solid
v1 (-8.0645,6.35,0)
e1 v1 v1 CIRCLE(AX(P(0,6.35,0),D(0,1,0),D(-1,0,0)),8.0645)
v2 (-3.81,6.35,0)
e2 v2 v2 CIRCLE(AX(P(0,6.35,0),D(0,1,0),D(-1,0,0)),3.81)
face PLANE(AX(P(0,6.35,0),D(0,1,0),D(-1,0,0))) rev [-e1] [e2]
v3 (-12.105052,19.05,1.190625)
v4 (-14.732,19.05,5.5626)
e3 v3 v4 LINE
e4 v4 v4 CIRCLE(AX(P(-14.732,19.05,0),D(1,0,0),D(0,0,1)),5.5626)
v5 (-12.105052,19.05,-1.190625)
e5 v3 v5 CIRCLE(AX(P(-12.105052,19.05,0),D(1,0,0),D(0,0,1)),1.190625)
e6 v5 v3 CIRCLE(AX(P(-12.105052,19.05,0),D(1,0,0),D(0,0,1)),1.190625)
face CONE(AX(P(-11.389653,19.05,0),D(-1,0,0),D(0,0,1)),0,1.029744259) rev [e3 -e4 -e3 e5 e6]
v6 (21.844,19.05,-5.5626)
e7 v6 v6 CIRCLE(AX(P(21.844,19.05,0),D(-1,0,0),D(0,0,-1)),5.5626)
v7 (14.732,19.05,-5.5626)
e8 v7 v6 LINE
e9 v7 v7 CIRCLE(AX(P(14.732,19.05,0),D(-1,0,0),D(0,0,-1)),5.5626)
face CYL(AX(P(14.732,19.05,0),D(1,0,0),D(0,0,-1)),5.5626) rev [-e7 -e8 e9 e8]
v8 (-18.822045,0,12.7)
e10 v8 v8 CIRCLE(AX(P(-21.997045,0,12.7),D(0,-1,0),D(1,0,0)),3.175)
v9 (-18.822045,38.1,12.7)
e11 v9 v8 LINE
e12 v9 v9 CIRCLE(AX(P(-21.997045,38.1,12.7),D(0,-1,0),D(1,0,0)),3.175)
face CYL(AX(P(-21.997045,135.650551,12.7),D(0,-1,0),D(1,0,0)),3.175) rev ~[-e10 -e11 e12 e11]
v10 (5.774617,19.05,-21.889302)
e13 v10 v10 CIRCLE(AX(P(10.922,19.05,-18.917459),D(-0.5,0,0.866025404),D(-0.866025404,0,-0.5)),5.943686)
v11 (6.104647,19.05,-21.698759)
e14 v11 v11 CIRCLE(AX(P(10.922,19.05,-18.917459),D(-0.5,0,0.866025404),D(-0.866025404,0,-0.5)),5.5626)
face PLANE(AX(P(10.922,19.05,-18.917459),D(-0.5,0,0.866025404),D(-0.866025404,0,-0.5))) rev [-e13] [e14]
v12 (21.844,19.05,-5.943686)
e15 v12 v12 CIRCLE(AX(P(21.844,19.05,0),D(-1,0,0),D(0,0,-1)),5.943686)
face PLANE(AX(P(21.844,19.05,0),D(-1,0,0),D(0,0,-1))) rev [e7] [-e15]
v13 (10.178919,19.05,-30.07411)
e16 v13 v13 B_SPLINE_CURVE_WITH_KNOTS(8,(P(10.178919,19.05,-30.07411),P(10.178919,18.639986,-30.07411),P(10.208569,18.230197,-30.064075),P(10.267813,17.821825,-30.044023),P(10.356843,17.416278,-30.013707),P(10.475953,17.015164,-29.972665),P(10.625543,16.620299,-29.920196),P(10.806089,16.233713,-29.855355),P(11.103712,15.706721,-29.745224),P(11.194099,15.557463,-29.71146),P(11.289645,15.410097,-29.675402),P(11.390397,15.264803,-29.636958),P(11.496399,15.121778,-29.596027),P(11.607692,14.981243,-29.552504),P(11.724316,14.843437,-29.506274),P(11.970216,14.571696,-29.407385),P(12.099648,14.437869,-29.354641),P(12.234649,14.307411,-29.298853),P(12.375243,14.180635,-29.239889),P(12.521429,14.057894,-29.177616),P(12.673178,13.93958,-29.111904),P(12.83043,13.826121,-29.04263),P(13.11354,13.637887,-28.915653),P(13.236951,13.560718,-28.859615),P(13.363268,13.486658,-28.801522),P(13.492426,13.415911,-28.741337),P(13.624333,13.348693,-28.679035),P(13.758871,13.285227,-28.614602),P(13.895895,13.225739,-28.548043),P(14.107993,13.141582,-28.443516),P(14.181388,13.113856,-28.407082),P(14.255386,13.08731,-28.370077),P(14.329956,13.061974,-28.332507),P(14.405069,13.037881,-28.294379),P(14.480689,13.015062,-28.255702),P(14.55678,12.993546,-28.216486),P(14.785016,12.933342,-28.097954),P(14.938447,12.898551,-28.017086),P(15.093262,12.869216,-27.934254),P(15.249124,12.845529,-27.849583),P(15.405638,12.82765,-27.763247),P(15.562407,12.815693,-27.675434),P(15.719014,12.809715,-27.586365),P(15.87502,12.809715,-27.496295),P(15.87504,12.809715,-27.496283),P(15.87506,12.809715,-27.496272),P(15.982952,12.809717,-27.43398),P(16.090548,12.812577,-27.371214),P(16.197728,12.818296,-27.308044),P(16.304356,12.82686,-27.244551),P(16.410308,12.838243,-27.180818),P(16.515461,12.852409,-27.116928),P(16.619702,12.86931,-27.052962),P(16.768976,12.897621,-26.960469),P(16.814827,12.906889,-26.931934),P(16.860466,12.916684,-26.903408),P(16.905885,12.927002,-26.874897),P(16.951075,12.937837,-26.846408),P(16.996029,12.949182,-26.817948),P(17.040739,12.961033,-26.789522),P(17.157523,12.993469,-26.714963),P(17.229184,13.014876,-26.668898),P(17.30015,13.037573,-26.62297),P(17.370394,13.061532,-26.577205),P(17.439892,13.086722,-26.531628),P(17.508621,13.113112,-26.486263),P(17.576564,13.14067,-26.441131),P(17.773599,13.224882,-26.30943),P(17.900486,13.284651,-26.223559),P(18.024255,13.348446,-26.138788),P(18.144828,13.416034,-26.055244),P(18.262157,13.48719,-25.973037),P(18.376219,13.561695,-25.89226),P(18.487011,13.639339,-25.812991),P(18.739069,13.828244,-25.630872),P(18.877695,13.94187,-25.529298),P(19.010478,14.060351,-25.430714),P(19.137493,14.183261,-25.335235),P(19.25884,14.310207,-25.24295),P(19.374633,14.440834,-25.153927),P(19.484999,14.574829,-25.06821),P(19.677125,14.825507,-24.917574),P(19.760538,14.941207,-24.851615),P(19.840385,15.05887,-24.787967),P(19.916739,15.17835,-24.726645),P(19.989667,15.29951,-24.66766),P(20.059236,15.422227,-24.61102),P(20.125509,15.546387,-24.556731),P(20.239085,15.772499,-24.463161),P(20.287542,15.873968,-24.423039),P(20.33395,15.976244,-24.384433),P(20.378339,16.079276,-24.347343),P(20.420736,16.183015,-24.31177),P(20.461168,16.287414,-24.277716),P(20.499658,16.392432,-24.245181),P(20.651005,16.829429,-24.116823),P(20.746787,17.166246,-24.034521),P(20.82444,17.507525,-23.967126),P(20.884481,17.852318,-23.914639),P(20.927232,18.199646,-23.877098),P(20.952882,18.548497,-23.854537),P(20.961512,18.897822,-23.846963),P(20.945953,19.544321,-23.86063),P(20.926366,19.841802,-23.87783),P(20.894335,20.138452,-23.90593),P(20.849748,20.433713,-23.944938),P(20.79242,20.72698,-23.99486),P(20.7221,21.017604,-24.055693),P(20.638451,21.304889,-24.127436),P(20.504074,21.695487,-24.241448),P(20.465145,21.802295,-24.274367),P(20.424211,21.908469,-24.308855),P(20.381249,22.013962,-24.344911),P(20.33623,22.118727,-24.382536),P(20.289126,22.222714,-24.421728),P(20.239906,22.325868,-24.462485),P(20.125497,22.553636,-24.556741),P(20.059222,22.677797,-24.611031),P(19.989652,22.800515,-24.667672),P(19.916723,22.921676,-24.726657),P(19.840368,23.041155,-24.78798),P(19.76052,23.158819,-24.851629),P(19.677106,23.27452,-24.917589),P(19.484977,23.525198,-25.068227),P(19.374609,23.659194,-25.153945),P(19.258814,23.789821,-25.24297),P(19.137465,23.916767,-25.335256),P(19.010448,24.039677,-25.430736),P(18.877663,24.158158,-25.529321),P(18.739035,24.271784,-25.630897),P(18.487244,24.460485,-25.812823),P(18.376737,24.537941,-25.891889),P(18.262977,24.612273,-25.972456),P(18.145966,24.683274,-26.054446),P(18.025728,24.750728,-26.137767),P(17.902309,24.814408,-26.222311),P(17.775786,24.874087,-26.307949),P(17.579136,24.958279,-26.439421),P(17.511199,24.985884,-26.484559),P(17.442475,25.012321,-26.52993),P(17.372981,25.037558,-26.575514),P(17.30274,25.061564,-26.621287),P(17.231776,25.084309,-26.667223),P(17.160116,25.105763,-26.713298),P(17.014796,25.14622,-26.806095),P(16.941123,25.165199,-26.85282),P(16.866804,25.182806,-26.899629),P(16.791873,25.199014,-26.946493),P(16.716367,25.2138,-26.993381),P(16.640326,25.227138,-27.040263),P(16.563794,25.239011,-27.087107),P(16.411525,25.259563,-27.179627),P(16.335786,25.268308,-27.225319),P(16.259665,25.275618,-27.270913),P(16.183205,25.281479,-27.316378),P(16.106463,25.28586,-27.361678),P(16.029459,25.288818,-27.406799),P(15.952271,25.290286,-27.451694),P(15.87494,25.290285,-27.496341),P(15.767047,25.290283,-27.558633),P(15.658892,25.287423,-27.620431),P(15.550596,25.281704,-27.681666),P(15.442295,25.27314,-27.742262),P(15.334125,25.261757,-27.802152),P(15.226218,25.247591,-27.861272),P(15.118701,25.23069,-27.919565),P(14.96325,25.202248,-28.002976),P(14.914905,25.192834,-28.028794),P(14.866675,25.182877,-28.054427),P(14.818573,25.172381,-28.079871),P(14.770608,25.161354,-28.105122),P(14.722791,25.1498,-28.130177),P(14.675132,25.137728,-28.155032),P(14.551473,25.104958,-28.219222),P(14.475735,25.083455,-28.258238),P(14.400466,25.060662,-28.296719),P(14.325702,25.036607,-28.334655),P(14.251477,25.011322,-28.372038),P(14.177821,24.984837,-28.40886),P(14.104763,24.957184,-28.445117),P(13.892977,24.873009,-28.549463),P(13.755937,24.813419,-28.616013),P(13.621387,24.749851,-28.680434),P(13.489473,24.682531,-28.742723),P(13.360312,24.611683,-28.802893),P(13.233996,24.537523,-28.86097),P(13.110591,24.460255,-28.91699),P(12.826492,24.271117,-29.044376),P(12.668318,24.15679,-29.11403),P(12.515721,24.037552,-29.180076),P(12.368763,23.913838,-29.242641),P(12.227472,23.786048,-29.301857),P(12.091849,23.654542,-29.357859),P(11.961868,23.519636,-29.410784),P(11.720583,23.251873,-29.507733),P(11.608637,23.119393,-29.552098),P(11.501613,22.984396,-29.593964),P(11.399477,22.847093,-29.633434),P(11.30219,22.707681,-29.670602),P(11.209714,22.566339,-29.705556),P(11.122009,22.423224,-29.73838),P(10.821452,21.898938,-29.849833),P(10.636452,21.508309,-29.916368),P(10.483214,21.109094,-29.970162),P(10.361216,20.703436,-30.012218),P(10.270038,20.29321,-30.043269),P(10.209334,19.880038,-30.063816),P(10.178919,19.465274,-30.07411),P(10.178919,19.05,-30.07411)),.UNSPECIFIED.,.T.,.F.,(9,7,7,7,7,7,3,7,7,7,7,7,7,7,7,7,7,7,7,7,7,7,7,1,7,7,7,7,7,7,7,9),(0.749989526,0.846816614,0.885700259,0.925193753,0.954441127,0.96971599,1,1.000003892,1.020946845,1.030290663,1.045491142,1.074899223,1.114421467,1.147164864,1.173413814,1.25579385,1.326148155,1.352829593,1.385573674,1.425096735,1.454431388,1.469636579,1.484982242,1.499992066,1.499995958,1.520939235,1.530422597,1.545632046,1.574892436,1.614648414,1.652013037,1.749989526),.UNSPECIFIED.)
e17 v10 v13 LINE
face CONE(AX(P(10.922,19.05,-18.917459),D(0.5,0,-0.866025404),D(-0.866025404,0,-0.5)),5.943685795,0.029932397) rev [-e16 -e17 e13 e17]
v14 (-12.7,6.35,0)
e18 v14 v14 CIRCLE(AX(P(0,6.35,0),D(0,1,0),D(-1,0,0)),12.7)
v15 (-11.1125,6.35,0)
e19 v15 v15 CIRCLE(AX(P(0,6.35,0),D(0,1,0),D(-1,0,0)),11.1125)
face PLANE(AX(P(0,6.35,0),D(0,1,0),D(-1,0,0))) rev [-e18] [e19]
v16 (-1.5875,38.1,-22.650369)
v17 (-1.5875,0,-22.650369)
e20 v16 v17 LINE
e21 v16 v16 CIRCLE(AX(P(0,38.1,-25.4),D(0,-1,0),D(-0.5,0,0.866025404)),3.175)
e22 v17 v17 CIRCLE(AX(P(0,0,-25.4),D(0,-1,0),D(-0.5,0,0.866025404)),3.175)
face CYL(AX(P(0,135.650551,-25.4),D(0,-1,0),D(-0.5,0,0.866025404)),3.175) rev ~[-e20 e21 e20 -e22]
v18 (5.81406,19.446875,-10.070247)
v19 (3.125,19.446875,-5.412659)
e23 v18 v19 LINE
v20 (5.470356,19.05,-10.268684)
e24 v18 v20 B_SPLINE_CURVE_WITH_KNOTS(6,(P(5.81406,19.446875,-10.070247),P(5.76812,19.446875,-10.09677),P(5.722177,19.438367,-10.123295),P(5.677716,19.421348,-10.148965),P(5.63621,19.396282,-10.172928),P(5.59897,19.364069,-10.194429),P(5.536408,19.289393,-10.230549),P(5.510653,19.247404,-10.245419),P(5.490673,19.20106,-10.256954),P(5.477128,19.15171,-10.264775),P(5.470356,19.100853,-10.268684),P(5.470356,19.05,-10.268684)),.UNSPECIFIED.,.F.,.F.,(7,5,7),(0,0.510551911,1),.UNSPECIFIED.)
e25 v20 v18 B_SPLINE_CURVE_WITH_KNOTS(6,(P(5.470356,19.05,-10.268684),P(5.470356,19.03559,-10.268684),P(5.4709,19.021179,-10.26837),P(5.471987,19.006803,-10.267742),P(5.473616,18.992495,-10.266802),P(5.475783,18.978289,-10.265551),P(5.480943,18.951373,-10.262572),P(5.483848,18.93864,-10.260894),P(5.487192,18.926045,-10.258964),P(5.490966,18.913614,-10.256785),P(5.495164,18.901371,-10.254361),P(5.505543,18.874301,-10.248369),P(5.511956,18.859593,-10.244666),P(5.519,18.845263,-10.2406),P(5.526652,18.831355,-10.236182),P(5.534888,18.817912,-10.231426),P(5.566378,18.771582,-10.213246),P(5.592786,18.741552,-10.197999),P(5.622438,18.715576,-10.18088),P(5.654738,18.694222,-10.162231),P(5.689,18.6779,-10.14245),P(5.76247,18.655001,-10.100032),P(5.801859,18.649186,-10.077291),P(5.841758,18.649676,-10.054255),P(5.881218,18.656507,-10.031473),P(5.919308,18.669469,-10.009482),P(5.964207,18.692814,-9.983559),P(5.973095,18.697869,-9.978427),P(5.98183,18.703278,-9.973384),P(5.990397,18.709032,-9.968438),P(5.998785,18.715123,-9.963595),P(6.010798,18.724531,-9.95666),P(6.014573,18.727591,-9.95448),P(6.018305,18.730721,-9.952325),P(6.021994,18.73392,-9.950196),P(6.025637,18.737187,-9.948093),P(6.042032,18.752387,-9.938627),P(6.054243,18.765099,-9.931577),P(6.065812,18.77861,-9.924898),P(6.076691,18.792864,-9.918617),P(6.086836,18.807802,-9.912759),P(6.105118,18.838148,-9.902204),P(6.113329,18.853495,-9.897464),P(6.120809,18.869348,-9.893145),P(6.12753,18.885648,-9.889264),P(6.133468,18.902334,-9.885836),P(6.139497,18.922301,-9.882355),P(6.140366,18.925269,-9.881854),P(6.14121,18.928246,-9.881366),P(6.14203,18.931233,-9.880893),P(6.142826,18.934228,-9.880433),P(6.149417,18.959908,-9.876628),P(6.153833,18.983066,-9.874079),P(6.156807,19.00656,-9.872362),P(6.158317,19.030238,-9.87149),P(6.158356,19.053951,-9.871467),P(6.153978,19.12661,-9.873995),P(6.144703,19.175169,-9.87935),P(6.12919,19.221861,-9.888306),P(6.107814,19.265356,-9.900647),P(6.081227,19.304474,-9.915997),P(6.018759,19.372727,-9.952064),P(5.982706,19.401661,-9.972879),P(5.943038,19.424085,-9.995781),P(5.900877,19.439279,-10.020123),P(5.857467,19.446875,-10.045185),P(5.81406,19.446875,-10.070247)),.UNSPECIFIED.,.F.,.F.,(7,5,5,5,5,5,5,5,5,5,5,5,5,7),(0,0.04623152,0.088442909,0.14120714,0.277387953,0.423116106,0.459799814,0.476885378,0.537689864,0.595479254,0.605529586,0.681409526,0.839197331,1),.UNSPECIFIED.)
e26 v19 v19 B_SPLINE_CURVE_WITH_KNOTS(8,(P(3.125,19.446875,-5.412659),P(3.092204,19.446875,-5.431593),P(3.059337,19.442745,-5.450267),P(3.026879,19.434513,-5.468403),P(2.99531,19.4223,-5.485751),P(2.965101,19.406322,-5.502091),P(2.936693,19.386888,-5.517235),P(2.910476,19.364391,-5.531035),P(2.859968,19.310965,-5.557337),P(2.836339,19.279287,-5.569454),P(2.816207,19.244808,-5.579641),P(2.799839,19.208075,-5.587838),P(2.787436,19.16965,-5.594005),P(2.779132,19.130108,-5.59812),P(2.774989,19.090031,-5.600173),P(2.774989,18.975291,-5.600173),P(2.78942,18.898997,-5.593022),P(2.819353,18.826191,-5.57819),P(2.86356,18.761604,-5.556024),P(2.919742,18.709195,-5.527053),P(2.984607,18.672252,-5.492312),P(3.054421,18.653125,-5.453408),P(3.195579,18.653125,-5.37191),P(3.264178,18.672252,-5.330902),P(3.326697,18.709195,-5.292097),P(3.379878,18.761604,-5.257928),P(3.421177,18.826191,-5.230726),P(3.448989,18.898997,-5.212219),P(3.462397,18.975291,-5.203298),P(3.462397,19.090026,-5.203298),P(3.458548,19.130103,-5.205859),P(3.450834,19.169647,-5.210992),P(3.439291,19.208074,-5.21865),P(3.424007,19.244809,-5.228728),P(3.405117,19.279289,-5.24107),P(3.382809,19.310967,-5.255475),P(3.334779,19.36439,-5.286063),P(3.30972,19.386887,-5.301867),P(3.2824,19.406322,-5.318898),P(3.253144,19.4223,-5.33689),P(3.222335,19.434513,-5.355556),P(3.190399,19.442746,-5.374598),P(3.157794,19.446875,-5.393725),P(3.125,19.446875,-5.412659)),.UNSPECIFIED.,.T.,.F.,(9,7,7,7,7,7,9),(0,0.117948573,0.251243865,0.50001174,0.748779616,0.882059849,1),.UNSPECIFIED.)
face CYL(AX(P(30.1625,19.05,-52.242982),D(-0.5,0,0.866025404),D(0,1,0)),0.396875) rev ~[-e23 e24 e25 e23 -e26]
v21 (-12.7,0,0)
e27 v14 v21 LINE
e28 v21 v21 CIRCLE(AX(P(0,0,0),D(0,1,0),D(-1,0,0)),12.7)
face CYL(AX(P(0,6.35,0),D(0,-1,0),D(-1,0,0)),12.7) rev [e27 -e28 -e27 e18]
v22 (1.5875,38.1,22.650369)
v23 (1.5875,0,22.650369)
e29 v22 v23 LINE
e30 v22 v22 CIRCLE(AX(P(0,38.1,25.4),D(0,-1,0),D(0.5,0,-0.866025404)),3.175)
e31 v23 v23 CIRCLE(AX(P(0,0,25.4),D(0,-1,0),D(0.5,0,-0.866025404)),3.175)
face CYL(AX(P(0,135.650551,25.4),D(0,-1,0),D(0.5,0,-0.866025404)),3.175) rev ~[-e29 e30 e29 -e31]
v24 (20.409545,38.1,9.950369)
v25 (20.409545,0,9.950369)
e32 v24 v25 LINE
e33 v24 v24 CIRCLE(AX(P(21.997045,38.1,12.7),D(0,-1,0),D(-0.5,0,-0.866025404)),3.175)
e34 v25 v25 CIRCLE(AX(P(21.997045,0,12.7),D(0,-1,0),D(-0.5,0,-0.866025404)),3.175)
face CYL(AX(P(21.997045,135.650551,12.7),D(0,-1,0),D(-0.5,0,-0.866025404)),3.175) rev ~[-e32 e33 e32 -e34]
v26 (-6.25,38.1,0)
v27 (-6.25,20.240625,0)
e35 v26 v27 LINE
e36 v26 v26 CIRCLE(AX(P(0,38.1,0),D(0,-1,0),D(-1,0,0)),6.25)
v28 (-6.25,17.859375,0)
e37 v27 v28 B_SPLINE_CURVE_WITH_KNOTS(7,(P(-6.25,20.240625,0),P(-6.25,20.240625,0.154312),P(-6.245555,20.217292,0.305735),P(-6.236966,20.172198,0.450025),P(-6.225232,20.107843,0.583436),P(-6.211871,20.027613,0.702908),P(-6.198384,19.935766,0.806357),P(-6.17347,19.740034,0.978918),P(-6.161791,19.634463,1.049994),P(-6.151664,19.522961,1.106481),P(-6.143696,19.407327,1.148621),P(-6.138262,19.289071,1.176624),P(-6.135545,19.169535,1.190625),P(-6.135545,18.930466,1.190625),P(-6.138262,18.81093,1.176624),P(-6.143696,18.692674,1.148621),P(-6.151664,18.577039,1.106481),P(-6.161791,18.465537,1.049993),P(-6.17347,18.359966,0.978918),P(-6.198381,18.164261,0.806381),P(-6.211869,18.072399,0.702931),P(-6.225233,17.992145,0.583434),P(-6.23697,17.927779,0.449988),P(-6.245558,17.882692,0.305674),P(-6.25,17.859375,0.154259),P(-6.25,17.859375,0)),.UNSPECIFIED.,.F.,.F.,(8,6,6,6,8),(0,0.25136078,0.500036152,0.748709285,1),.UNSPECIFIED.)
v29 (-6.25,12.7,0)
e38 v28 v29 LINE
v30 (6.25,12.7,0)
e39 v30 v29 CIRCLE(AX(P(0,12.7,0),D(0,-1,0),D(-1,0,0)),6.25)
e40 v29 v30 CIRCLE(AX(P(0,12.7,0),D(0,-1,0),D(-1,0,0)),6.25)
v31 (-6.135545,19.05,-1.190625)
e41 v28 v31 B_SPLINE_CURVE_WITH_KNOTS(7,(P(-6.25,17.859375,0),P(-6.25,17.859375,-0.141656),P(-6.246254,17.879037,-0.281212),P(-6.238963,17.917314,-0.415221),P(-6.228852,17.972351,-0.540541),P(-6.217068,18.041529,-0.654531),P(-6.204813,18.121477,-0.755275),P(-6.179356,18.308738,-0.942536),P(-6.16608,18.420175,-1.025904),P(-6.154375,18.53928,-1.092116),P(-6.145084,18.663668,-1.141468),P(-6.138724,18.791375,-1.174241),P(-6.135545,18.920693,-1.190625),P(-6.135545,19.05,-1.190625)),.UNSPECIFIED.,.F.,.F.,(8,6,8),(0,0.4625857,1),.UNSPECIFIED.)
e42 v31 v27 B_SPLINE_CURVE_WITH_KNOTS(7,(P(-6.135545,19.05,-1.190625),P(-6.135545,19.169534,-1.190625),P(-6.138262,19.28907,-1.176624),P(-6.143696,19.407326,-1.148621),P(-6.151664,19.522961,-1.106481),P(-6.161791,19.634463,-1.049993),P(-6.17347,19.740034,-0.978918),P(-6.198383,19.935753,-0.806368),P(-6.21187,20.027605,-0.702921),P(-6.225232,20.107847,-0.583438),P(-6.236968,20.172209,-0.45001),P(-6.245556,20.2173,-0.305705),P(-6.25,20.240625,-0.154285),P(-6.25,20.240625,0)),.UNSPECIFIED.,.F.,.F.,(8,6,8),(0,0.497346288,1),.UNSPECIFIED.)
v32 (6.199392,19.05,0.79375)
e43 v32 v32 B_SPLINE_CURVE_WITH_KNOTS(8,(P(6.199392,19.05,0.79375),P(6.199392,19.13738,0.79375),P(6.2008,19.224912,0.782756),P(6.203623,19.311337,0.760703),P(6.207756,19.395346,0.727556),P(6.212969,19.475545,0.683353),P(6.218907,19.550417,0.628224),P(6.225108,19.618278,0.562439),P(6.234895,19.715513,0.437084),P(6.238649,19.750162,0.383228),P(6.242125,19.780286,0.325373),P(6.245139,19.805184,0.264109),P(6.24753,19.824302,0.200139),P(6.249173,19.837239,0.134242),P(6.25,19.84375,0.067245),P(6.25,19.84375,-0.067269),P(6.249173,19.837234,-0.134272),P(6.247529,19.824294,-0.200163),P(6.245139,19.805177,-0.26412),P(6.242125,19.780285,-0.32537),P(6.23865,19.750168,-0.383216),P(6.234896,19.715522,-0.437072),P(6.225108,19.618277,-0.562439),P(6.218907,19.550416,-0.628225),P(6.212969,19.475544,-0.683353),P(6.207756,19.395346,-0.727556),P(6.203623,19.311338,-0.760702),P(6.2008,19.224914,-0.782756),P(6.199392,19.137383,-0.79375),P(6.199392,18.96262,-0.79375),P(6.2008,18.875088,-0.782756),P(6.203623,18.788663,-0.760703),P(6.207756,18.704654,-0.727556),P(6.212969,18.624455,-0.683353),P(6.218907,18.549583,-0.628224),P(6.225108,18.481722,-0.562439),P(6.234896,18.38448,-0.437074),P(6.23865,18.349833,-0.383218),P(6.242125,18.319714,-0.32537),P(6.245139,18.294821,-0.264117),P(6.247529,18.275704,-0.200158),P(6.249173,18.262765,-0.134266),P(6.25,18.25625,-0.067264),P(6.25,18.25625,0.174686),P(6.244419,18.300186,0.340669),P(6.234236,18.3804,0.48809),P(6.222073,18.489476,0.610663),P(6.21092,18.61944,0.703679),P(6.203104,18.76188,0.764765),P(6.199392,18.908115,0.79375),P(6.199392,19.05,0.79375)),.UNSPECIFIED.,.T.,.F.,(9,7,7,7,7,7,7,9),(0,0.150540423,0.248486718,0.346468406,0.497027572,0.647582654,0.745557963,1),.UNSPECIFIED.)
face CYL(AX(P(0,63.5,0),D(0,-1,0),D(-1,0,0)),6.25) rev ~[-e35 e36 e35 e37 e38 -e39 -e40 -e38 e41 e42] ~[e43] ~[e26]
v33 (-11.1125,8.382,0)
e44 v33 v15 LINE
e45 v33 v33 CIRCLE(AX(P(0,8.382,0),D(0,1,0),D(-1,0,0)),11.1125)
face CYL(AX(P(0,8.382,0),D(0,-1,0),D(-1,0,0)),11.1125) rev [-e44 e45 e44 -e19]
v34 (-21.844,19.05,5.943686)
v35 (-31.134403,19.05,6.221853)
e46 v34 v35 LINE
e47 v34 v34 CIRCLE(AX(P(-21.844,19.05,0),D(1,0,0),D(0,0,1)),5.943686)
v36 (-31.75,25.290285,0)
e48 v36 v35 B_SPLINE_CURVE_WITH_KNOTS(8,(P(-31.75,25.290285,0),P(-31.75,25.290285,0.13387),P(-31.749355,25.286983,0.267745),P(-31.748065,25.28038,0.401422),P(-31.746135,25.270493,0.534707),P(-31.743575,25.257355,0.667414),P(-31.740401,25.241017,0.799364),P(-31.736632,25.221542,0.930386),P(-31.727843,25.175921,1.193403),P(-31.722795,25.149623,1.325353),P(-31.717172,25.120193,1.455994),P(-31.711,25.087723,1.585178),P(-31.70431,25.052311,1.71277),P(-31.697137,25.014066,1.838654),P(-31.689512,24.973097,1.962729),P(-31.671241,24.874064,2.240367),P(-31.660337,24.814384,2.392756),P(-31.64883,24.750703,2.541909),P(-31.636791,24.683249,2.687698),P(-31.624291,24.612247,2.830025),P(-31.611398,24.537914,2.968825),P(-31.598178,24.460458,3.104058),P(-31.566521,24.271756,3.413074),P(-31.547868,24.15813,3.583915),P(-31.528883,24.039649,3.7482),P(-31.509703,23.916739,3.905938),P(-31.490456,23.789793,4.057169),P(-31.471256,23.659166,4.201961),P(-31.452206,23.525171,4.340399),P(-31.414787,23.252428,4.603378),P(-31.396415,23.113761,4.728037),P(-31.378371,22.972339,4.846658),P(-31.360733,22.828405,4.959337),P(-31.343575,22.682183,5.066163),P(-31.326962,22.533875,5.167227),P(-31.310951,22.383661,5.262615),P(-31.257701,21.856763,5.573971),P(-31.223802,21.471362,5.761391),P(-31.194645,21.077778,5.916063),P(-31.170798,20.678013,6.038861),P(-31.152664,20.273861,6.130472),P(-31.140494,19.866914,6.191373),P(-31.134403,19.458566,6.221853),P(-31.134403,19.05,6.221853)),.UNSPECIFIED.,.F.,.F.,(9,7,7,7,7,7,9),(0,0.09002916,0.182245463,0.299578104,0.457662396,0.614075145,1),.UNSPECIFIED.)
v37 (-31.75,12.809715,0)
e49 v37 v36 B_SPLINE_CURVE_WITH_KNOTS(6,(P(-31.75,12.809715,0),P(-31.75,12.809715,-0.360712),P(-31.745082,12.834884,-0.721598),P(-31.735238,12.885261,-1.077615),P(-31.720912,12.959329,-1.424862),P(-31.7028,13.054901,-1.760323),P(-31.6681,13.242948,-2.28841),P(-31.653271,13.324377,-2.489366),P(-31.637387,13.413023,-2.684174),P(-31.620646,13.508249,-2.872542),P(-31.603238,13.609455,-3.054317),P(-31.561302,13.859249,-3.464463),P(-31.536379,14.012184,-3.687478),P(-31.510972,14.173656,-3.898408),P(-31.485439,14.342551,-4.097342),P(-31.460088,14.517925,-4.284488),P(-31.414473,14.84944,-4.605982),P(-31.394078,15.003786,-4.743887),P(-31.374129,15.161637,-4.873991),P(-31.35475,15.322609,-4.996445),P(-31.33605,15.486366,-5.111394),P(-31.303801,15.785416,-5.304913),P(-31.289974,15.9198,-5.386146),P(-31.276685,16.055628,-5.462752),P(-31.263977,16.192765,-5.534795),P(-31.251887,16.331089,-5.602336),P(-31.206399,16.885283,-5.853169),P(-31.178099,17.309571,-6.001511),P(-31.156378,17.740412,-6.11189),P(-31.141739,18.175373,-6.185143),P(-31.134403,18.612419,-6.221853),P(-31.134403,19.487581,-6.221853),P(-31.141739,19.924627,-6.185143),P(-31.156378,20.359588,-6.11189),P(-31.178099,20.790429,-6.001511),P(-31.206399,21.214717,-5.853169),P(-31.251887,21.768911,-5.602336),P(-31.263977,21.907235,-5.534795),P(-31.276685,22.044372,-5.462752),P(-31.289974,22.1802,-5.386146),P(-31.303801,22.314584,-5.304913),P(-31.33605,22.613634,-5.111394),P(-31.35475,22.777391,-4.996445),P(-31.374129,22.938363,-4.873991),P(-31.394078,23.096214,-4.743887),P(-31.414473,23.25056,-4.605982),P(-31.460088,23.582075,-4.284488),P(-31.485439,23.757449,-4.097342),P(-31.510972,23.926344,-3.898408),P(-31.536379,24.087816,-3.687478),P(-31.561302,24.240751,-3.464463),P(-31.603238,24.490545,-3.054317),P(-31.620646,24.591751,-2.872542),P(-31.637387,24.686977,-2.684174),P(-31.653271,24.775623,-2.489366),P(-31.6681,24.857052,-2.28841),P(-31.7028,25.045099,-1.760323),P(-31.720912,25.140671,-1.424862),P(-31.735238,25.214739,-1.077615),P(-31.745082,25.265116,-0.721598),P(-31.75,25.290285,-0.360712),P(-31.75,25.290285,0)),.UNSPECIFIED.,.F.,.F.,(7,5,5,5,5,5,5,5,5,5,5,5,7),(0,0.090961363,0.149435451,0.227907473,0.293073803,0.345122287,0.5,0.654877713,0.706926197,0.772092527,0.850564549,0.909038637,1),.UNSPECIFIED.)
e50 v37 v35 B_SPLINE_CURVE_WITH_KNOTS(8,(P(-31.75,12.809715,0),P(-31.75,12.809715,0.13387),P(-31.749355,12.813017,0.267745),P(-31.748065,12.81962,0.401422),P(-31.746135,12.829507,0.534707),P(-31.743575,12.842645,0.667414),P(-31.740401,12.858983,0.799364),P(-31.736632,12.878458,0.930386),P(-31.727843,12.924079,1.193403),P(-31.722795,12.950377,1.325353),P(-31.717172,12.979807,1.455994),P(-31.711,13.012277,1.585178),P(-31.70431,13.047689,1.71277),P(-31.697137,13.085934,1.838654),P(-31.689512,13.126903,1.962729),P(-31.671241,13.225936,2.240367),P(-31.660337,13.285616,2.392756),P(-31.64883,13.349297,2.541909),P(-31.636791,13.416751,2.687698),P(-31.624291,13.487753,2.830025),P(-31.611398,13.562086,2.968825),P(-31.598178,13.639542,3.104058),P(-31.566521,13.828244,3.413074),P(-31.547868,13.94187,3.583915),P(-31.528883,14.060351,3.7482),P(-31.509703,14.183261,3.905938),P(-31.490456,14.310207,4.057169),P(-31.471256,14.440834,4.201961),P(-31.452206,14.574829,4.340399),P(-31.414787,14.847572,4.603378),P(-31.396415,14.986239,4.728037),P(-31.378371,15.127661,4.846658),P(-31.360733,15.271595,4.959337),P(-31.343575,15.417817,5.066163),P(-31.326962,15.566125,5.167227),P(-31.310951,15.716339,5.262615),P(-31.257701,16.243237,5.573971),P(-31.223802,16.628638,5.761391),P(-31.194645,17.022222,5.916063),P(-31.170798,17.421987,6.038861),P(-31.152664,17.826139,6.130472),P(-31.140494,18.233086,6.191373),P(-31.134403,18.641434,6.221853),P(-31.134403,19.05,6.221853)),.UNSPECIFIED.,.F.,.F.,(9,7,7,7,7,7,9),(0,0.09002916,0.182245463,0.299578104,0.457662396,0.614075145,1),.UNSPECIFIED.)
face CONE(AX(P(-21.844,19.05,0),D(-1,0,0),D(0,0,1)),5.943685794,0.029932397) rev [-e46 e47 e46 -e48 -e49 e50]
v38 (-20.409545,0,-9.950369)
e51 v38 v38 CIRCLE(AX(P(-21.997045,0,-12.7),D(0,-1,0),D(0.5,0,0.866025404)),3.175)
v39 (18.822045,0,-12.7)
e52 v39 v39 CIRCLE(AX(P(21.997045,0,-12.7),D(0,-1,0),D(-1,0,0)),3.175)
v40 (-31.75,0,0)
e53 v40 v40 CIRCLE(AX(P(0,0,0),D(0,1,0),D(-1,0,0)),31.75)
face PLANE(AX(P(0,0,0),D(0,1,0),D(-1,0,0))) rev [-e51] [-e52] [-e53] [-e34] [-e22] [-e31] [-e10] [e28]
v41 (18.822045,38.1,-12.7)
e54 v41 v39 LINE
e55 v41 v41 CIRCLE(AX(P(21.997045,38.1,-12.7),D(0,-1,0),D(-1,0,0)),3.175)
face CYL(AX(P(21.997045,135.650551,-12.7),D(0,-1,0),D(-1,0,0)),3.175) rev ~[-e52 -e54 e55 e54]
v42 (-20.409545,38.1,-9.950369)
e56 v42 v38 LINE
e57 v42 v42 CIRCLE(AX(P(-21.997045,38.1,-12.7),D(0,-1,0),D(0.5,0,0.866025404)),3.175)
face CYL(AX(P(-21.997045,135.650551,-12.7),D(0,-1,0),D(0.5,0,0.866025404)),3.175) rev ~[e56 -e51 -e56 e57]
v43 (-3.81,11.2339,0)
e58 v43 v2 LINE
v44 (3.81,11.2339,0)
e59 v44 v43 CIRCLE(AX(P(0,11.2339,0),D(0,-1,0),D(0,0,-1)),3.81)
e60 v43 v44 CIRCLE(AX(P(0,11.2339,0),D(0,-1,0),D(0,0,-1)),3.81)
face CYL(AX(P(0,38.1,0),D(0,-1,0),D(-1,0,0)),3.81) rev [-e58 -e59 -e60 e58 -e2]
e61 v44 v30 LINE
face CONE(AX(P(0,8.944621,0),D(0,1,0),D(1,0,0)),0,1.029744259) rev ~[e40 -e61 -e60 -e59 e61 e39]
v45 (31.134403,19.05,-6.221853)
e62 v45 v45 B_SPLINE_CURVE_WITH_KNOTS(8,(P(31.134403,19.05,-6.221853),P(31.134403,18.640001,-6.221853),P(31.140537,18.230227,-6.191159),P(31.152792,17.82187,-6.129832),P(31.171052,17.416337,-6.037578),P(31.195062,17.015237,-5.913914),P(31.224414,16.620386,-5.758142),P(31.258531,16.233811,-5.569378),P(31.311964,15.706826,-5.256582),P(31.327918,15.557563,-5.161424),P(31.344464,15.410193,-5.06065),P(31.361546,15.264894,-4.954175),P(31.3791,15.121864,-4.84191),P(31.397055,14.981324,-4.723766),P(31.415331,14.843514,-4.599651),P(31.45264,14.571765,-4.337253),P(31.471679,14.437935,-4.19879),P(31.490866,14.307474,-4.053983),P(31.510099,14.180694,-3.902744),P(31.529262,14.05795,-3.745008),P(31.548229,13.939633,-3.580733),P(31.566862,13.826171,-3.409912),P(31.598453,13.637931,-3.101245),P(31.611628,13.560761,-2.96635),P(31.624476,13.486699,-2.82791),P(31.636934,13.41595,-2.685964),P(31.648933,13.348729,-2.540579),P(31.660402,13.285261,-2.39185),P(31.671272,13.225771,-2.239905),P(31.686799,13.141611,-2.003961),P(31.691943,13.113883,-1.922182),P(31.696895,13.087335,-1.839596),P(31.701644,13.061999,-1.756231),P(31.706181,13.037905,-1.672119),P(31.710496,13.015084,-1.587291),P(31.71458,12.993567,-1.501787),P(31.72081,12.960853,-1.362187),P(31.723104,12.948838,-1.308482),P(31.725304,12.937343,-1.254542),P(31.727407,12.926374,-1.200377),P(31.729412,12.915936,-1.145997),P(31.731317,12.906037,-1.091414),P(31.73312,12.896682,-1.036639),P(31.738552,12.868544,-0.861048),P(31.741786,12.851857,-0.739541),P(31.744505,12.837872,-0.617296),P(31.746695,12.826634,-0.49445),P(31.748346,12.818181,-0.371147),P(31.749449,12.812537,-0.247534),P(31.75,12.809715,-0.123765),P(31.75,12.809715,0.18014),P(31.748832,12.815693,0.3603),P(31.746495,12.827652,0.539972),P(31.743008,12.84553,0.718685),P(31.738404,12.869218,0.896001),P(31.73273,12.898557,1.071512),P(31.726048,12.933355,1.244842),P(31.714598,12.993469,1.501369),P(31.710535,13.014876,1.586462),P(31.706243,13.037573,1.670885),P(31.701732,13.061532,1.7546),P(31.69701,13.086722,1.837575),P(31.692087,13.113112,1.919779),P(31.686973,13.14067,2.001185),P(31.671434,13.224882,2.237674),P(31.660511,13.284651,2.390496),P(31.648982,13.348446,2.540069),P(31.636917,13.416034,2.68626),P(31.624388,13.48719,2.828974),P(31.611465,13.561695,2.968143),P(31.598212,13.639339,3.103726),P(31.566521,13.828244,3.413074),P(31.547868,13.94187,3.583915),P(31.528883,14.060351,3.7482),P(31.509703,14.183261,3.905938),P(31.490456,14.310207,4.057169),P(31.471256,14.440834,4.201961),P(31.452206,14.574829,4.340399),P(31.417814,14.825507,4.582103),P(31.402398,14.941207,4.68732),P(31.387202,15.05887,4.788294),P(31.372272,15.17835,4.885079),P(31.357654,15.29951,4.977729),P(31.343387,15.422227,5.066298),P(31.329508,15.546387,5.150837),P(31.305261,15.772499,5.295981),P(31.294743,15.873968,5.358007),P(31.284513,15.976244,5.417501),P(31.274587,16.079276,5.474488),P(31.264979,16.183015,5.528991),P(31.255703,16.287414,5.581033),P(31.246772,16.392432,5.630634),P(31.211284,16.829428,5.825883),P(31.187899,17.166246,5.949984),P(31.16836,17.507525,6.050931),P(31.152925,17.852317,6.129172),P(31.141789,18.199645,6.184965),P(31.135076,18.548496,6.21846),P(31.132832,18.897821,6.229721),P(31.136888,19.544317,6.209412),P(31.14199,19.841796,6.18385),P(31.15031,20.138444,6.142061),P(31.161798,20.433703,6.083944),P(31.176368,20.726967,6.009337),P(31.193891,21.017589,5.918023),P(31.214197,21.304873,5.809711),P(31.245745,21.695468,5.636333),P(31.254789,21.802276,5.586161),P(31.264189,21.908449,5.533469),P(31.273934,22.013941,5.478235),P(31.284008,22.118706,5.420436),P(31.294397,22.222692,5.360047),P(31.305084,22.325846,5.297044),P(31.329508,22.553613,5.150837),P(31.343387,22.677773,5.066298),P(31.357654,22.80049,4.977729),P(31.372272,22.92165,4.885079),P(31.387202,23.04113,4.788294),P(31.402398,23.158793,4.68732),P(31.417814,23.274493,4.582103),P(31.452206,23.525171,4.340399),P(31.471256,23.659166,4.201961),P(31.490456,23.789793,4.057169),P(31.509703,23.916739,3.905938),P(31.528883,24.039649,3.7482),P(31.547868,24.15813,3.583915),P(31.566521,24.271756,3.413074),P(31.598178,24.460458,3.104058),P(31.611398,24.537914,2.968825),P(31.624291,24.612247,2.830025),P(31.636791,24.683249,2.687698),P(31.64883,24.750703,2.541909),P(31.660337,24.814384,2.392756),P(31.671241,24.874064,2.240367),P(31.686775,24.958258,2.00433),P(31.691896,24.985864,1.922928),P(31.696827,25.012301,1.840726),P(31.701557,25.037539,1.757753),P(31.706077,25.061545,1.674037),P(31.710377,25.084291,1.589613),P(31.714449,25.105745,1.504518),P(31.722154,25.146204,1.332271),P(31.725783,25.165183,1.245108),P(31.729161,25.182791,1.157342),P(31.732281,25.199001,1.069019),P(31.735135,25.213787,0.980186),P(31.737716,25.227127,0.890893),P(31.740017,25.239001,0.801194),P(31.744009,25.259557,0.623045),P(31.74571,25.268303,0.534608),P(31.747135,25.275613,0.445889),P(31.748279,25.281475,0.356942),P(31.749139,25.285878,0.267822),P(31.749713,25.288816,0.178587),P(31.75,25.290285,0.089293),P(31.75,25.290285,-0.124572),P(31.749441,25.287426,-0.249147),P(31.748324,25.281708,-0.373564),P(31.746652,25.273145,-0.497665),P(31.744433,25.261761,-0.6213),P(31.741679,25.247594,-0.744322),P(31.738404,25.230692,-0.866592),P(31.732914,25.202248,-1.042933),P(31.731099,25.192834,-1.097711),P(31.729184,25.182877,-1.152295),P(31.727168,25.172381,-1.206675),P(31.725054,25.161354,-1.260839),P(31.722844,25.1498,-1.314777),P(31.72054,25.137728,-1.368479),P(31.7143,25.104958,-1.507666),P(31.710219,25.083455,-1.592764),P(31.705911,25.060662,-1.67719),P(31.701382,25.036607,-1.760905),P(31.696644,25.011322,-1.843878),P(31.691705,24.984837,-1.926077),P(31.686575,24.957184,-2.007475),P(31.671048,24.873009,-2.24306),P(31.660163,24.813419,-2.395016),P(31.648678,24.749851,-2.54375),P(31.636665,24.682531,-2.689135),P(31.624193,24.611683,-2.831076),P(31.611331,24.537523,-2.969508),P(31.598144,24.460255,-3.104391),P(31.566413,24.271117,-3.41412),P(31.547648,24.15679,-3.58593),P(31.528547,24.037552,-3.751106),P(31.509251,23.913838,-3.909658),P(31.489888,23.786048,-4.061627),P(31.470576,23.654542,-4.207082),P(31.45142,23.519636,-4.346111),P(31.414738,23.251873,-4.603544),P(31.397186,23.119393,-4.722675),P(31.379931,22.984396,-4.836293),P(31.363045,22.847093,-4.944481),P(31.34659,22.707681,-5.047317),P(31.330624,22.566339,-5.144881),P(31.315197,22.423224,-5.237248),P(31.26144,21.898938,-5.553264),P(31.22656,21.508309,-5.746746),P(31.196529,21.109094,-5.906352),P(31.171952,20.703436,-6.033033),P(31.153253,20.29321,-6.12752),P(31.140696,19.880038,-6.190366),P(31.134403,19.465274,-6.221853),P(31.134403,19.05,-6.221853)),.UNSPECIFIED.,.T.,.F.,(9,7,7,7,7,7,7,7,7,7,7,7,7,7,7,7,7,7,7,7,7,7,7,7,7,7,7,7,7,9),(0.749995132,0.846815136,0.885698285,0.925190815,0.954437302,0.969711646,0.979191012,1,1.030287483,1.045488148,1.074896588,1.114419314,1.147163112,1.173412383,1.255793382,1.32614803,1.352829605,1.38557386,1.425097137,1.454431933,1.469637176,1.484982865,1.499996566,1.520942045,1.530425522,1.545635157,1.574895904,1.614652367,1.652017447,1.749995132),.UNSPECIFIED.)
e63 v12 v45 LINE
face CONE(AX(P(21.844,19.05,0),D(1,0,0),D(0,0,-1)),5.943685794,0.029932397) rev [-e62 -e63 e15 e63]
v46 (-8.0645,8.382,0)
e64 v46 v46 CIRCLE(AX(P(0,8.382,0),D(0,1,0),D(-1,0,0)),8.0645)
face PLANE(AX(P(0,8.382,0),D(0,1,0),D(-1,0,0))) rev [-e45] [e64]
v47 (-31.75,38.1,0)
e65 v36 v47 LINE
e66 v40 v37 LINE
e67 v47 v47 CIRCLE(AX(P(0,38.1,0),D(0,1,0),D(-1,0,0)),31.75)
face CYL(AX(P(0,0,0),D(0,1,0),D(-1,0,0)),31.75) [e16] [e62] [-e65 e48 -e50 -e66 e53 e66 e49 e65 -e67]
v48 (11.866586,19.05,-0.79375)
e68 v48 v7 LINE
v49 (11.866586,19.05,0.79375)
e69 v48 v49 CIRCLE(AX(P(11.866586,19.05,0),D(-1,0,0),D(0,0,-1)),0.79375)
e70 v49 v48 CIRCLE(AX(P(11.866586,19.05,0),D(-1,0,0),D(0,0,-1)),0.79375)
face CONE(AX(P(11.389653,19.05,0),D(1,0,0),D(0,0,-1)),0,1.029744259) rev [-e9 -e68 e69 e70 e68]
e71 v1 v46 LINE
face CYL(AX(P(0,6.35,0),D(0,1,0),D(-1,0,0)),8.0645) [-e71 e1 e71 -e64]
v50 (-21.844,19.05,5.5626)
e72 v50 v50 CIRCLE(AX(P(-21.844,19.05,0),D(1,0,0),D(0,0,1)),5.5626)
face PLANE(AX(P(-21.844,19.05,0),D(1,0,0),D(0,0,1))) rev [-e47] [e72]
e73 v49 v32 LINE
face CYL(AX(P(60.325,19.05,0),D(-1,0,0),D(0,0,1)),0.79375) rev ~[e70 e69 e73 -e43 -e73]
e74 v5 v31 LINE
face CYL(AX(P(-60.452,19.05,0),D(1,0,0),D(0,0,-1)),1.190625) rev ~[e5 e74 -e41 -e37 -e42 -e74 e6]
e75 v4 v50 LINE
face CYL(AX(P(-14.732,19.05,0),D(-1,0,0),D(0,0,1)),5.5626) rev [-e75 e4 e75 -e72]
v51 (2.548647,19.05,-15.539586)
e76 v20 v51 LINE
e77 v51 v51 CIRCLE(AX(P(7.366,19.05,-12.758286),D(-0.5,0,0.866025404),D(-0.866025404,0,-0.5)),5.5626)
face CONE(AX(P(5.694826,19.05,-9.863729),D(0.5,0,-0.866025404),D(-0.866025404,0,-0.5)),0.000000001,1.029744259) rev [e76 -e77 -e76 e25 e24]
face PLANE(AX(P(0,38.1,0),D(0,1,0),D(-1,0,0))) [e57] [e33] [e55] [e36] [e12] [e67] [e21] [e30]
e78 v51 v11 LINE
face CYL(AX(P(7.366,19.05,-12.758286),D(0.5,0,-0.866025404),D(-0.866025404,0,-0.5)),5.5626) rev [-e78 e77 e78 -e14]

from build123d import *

# Parameters (mm, degrees)
M14X1_5_TAPPED_HOLE1_D              = 12.5
M14X1_5_TAPPED_HOLE1_DEPTH          = 25.4
M14X1_5_TAPPED_HOLE1_TIP            = 3.755378869
F_1_16_0_0625_DIAMETER_HOLE1_D      = 1.5875
F_1_16_0_0625_DIAMETER_HOLE1_DEPTH  = 28.575
F_1_16_0_0625_DIAMETER_HOLE1_TIP    = 0.476933116
F_3_32_0_09375_DIAMETER_HOLE1_D     = 2.38125
F_3_32_0_09375_DIAMETER_HOLE1_DEPTH = 28.702
F_3_32_0_09375_DIAMETER_HOLE1_TIP   = 0.715399675
F_1_4_0_25_DIAMETER_HOLE1_D         = 6.35
CIRPATTERN1_COUNT                   = 6
F_1_32_0_03125_DIAMETER_HOLE1_D     = 0.79375
F_1_32_0_03125_DIAMETER_HOLE1_DEPTH = 28.575
F_1_32_0_03125_DIAMETER_HOLE1_TIP   = 0.238466558


with BuildPart() as part:
    # Sketch1 → Revolve1 (revolve)
    with BuildSketch(Plane.XY):
        Polygon((-12.7, 0), (-31.75, 0), (-31.75, 38.1), (-3.81, 38.1), (-3.81, 6.35), (-8.0645, 6.35), (-8.0645, 8.382), (-11.1125, 8.382), (-11.1125, 6.35), (-12.7, 6.35), align=None)
    revolve(axis=Axis((0, 0, 0), (0, 1, 0)))

    # M14x1.5 Tapped Hole1
    with Locations(Plane(origin=(0, 38.1, 0), x_dir=(1, 0, 0), z_dir=(0, 1, 0))):
        with Locations((0, 0)):
            Hole(M14X1_5_TAPPED_HOLE1_D / 2, depth=M14X1_5_TAPPED_HOLE1_DEPTH)
            with Locations((0, 0, -(M14X1_5_TAPPED_HOLE1_DEPTH + M14X1_5_TAPPED_HOLE1_TIP / 2))):  # 118° drill point
                Cone(0, M14X1_5_TAPPED_HOLE1_D / 2, M14X1_5_TAPPED_HOLE1_TIP, mode=Mode.SUBTRACT)

    # Sketch6 → 1/4 NPT Tapped Hole1 (revolve, cut)
    with BuildSketch(Plane(origin=(31.75, 19.05, 0), x_dir=(0, 0, -1), z_dir=(0, 1, 0))):
        Polygon((0, 0), (0, 20.360347279), (5.5626, 17.018), (5.5626, 9.906), (5.943685794, 9.906), (6.2402847, 0), align=None)
    revolve(axis=Axis((38.1, 19.05, 0), (-1, 0, 0)), mode=Mode.SUBTRACT)

    # Sketch8 → 1/4 NPT Tapped Hole2 (revolve, cut)
    with BuildSketch(Plane(origin=(-31.75, 19.05, 0), x_dir=(0, 0, 1), z_dir=(0, 1, 0))):
        Polygon((0, 0), (0, 20.360347279), (5.5626, 17.018), (5.5626, 9.906), (5.943685794, 9.906), (6.2402847, 0), align=None)
    revolve(axis=Axis((-38.1, 19.05, 0), (1, 0, 0)), mode=Mode.SUBTRACT)

    # 1/16 (0.0625) Diameter Hole1
    with Locations(Plane(origin=(31.75, 0, 0), x_dir=(0, 0, -1), z_dir=(1, 0, 0))):
        with Locations((0, 19.05)):
            Hole(F_1_16_0_0625_DIAMETER_HOLE1_D / 2, depth=F_1_16_0_0625_DIAMETER_HOLE1_DEPTH)
            with Locations((0, 0, -(F_1_16_0_0625_DIAMETER_HOLE1_DEPTH + F_1_16_0_0625_DIAMETER_HOLE1_TIP / 2))):  # 118° drill point
                Cone(0, F_1_16_0_0625_DIAMETER_HOLE1_D / 2, F_1_16_0_0625_DIAMETER_HOLE1_TIP, mode=Mode.SUBTRACT)

    # 3/32 (0.09375) Diameter Hole1
    with Locations(Plane.ZY.offset(31.75)):
        with Locations((0, 19.05)):
            Hole(F_3_32_0_09375_DIAMETER_HOLE1_D / 2, depth=F_3_32_0_09375_DIAMETER_HOLE1_DEPTH)
            with Locations((0, 0, -(F_3_32_0_09375_DIAMETER_HOLE1_DEPTH + F_3_32_0_09375_DIAMETER_HOLE1_TIP / 2))):  # 118° drill point
                Cone(0, F_3_32_0_09375_DIAMETER_HOLE1_D / 2, F_3_32_0_09375_DIAMETER_HOLE1_TIP, mode=Mode.SUBTRACT)

    # 1/4 (0.25) Diameter Hole1 (through all)
    with Locations(Plane(origin=(0, 38.1, 0), x_dir=(1, 0, 0), z_dir=(0, 1, 0))):
        with Locations((21.997045256, 12.7)):
            f_1_4_0_25_diameter_hole1 = Hole(F_1_4_0_25_DIAMETER_HOLE1_D / 2)

    # CirPattern1: 1/4 (0.25) Diameter Hole1 ×6 about axis
    cirpattern1_axis = Axis((0, 0, 0), (0, 1, 0))
    for i in range(1, CIRPATTERN1_COUNT):
        add(f_1_4_0_25_diameter_hole1.rotate(cirpattern1_axis, i * 360 / CIRPATTERN1_COUNT), mode=Mode.SUBTRACT)

    # Sketch18 → 1/4 NPT Tapped Hole3 (revolve, cut)
    with BuildSketch(Plane(origin=(15.875, 19.05, -27.49630657), x_dir=(-0.866025404, 0, -0.5), z_dir=(0, 1, 0))):
        Polygon((0, 0), (0, 20.360347279), (5.5626, 17.018), (5.5626, 9.906), (5.943685794, 9.906), (6.2402847, 0), align=None)
    revolve(axis=Axis((19.05, 19.05, -32.995567884), (-0.5, 0, 0.866025404)), mode=Mode.SUBTRACT)

    # 1/32 (0.03125) Diameter Hole1
    with Locations(Plane(origin=(15.875, 0, -27.49630657), x_dir=(0, -1, 0), z_dir=(0.5, 0, -0.866025404))):
        with Locations((-19.05, 0)):
            Hole(F_1_32_0_03125_DIAMETER_HOLE1_D / 2, depth=F_1_32_0_03125_DIAMETER_HOLE1_DEPTH)
            with Locations((0, 0, -(F_1_32_0_03125_DIAMETER_HOLE1_DEPTH + F_1_32_0_03125_DIAMETER_HOLE1_TIP / 2))):  # 118° drill point
                Cone(0, F_1_32_0_03125_DIAMETER_HOLE1_D / 2, F_1_32_0_03125_DIAMETER_HOLE1_TIP, mode=Mode.SUBTRACT)


solid = part.part
